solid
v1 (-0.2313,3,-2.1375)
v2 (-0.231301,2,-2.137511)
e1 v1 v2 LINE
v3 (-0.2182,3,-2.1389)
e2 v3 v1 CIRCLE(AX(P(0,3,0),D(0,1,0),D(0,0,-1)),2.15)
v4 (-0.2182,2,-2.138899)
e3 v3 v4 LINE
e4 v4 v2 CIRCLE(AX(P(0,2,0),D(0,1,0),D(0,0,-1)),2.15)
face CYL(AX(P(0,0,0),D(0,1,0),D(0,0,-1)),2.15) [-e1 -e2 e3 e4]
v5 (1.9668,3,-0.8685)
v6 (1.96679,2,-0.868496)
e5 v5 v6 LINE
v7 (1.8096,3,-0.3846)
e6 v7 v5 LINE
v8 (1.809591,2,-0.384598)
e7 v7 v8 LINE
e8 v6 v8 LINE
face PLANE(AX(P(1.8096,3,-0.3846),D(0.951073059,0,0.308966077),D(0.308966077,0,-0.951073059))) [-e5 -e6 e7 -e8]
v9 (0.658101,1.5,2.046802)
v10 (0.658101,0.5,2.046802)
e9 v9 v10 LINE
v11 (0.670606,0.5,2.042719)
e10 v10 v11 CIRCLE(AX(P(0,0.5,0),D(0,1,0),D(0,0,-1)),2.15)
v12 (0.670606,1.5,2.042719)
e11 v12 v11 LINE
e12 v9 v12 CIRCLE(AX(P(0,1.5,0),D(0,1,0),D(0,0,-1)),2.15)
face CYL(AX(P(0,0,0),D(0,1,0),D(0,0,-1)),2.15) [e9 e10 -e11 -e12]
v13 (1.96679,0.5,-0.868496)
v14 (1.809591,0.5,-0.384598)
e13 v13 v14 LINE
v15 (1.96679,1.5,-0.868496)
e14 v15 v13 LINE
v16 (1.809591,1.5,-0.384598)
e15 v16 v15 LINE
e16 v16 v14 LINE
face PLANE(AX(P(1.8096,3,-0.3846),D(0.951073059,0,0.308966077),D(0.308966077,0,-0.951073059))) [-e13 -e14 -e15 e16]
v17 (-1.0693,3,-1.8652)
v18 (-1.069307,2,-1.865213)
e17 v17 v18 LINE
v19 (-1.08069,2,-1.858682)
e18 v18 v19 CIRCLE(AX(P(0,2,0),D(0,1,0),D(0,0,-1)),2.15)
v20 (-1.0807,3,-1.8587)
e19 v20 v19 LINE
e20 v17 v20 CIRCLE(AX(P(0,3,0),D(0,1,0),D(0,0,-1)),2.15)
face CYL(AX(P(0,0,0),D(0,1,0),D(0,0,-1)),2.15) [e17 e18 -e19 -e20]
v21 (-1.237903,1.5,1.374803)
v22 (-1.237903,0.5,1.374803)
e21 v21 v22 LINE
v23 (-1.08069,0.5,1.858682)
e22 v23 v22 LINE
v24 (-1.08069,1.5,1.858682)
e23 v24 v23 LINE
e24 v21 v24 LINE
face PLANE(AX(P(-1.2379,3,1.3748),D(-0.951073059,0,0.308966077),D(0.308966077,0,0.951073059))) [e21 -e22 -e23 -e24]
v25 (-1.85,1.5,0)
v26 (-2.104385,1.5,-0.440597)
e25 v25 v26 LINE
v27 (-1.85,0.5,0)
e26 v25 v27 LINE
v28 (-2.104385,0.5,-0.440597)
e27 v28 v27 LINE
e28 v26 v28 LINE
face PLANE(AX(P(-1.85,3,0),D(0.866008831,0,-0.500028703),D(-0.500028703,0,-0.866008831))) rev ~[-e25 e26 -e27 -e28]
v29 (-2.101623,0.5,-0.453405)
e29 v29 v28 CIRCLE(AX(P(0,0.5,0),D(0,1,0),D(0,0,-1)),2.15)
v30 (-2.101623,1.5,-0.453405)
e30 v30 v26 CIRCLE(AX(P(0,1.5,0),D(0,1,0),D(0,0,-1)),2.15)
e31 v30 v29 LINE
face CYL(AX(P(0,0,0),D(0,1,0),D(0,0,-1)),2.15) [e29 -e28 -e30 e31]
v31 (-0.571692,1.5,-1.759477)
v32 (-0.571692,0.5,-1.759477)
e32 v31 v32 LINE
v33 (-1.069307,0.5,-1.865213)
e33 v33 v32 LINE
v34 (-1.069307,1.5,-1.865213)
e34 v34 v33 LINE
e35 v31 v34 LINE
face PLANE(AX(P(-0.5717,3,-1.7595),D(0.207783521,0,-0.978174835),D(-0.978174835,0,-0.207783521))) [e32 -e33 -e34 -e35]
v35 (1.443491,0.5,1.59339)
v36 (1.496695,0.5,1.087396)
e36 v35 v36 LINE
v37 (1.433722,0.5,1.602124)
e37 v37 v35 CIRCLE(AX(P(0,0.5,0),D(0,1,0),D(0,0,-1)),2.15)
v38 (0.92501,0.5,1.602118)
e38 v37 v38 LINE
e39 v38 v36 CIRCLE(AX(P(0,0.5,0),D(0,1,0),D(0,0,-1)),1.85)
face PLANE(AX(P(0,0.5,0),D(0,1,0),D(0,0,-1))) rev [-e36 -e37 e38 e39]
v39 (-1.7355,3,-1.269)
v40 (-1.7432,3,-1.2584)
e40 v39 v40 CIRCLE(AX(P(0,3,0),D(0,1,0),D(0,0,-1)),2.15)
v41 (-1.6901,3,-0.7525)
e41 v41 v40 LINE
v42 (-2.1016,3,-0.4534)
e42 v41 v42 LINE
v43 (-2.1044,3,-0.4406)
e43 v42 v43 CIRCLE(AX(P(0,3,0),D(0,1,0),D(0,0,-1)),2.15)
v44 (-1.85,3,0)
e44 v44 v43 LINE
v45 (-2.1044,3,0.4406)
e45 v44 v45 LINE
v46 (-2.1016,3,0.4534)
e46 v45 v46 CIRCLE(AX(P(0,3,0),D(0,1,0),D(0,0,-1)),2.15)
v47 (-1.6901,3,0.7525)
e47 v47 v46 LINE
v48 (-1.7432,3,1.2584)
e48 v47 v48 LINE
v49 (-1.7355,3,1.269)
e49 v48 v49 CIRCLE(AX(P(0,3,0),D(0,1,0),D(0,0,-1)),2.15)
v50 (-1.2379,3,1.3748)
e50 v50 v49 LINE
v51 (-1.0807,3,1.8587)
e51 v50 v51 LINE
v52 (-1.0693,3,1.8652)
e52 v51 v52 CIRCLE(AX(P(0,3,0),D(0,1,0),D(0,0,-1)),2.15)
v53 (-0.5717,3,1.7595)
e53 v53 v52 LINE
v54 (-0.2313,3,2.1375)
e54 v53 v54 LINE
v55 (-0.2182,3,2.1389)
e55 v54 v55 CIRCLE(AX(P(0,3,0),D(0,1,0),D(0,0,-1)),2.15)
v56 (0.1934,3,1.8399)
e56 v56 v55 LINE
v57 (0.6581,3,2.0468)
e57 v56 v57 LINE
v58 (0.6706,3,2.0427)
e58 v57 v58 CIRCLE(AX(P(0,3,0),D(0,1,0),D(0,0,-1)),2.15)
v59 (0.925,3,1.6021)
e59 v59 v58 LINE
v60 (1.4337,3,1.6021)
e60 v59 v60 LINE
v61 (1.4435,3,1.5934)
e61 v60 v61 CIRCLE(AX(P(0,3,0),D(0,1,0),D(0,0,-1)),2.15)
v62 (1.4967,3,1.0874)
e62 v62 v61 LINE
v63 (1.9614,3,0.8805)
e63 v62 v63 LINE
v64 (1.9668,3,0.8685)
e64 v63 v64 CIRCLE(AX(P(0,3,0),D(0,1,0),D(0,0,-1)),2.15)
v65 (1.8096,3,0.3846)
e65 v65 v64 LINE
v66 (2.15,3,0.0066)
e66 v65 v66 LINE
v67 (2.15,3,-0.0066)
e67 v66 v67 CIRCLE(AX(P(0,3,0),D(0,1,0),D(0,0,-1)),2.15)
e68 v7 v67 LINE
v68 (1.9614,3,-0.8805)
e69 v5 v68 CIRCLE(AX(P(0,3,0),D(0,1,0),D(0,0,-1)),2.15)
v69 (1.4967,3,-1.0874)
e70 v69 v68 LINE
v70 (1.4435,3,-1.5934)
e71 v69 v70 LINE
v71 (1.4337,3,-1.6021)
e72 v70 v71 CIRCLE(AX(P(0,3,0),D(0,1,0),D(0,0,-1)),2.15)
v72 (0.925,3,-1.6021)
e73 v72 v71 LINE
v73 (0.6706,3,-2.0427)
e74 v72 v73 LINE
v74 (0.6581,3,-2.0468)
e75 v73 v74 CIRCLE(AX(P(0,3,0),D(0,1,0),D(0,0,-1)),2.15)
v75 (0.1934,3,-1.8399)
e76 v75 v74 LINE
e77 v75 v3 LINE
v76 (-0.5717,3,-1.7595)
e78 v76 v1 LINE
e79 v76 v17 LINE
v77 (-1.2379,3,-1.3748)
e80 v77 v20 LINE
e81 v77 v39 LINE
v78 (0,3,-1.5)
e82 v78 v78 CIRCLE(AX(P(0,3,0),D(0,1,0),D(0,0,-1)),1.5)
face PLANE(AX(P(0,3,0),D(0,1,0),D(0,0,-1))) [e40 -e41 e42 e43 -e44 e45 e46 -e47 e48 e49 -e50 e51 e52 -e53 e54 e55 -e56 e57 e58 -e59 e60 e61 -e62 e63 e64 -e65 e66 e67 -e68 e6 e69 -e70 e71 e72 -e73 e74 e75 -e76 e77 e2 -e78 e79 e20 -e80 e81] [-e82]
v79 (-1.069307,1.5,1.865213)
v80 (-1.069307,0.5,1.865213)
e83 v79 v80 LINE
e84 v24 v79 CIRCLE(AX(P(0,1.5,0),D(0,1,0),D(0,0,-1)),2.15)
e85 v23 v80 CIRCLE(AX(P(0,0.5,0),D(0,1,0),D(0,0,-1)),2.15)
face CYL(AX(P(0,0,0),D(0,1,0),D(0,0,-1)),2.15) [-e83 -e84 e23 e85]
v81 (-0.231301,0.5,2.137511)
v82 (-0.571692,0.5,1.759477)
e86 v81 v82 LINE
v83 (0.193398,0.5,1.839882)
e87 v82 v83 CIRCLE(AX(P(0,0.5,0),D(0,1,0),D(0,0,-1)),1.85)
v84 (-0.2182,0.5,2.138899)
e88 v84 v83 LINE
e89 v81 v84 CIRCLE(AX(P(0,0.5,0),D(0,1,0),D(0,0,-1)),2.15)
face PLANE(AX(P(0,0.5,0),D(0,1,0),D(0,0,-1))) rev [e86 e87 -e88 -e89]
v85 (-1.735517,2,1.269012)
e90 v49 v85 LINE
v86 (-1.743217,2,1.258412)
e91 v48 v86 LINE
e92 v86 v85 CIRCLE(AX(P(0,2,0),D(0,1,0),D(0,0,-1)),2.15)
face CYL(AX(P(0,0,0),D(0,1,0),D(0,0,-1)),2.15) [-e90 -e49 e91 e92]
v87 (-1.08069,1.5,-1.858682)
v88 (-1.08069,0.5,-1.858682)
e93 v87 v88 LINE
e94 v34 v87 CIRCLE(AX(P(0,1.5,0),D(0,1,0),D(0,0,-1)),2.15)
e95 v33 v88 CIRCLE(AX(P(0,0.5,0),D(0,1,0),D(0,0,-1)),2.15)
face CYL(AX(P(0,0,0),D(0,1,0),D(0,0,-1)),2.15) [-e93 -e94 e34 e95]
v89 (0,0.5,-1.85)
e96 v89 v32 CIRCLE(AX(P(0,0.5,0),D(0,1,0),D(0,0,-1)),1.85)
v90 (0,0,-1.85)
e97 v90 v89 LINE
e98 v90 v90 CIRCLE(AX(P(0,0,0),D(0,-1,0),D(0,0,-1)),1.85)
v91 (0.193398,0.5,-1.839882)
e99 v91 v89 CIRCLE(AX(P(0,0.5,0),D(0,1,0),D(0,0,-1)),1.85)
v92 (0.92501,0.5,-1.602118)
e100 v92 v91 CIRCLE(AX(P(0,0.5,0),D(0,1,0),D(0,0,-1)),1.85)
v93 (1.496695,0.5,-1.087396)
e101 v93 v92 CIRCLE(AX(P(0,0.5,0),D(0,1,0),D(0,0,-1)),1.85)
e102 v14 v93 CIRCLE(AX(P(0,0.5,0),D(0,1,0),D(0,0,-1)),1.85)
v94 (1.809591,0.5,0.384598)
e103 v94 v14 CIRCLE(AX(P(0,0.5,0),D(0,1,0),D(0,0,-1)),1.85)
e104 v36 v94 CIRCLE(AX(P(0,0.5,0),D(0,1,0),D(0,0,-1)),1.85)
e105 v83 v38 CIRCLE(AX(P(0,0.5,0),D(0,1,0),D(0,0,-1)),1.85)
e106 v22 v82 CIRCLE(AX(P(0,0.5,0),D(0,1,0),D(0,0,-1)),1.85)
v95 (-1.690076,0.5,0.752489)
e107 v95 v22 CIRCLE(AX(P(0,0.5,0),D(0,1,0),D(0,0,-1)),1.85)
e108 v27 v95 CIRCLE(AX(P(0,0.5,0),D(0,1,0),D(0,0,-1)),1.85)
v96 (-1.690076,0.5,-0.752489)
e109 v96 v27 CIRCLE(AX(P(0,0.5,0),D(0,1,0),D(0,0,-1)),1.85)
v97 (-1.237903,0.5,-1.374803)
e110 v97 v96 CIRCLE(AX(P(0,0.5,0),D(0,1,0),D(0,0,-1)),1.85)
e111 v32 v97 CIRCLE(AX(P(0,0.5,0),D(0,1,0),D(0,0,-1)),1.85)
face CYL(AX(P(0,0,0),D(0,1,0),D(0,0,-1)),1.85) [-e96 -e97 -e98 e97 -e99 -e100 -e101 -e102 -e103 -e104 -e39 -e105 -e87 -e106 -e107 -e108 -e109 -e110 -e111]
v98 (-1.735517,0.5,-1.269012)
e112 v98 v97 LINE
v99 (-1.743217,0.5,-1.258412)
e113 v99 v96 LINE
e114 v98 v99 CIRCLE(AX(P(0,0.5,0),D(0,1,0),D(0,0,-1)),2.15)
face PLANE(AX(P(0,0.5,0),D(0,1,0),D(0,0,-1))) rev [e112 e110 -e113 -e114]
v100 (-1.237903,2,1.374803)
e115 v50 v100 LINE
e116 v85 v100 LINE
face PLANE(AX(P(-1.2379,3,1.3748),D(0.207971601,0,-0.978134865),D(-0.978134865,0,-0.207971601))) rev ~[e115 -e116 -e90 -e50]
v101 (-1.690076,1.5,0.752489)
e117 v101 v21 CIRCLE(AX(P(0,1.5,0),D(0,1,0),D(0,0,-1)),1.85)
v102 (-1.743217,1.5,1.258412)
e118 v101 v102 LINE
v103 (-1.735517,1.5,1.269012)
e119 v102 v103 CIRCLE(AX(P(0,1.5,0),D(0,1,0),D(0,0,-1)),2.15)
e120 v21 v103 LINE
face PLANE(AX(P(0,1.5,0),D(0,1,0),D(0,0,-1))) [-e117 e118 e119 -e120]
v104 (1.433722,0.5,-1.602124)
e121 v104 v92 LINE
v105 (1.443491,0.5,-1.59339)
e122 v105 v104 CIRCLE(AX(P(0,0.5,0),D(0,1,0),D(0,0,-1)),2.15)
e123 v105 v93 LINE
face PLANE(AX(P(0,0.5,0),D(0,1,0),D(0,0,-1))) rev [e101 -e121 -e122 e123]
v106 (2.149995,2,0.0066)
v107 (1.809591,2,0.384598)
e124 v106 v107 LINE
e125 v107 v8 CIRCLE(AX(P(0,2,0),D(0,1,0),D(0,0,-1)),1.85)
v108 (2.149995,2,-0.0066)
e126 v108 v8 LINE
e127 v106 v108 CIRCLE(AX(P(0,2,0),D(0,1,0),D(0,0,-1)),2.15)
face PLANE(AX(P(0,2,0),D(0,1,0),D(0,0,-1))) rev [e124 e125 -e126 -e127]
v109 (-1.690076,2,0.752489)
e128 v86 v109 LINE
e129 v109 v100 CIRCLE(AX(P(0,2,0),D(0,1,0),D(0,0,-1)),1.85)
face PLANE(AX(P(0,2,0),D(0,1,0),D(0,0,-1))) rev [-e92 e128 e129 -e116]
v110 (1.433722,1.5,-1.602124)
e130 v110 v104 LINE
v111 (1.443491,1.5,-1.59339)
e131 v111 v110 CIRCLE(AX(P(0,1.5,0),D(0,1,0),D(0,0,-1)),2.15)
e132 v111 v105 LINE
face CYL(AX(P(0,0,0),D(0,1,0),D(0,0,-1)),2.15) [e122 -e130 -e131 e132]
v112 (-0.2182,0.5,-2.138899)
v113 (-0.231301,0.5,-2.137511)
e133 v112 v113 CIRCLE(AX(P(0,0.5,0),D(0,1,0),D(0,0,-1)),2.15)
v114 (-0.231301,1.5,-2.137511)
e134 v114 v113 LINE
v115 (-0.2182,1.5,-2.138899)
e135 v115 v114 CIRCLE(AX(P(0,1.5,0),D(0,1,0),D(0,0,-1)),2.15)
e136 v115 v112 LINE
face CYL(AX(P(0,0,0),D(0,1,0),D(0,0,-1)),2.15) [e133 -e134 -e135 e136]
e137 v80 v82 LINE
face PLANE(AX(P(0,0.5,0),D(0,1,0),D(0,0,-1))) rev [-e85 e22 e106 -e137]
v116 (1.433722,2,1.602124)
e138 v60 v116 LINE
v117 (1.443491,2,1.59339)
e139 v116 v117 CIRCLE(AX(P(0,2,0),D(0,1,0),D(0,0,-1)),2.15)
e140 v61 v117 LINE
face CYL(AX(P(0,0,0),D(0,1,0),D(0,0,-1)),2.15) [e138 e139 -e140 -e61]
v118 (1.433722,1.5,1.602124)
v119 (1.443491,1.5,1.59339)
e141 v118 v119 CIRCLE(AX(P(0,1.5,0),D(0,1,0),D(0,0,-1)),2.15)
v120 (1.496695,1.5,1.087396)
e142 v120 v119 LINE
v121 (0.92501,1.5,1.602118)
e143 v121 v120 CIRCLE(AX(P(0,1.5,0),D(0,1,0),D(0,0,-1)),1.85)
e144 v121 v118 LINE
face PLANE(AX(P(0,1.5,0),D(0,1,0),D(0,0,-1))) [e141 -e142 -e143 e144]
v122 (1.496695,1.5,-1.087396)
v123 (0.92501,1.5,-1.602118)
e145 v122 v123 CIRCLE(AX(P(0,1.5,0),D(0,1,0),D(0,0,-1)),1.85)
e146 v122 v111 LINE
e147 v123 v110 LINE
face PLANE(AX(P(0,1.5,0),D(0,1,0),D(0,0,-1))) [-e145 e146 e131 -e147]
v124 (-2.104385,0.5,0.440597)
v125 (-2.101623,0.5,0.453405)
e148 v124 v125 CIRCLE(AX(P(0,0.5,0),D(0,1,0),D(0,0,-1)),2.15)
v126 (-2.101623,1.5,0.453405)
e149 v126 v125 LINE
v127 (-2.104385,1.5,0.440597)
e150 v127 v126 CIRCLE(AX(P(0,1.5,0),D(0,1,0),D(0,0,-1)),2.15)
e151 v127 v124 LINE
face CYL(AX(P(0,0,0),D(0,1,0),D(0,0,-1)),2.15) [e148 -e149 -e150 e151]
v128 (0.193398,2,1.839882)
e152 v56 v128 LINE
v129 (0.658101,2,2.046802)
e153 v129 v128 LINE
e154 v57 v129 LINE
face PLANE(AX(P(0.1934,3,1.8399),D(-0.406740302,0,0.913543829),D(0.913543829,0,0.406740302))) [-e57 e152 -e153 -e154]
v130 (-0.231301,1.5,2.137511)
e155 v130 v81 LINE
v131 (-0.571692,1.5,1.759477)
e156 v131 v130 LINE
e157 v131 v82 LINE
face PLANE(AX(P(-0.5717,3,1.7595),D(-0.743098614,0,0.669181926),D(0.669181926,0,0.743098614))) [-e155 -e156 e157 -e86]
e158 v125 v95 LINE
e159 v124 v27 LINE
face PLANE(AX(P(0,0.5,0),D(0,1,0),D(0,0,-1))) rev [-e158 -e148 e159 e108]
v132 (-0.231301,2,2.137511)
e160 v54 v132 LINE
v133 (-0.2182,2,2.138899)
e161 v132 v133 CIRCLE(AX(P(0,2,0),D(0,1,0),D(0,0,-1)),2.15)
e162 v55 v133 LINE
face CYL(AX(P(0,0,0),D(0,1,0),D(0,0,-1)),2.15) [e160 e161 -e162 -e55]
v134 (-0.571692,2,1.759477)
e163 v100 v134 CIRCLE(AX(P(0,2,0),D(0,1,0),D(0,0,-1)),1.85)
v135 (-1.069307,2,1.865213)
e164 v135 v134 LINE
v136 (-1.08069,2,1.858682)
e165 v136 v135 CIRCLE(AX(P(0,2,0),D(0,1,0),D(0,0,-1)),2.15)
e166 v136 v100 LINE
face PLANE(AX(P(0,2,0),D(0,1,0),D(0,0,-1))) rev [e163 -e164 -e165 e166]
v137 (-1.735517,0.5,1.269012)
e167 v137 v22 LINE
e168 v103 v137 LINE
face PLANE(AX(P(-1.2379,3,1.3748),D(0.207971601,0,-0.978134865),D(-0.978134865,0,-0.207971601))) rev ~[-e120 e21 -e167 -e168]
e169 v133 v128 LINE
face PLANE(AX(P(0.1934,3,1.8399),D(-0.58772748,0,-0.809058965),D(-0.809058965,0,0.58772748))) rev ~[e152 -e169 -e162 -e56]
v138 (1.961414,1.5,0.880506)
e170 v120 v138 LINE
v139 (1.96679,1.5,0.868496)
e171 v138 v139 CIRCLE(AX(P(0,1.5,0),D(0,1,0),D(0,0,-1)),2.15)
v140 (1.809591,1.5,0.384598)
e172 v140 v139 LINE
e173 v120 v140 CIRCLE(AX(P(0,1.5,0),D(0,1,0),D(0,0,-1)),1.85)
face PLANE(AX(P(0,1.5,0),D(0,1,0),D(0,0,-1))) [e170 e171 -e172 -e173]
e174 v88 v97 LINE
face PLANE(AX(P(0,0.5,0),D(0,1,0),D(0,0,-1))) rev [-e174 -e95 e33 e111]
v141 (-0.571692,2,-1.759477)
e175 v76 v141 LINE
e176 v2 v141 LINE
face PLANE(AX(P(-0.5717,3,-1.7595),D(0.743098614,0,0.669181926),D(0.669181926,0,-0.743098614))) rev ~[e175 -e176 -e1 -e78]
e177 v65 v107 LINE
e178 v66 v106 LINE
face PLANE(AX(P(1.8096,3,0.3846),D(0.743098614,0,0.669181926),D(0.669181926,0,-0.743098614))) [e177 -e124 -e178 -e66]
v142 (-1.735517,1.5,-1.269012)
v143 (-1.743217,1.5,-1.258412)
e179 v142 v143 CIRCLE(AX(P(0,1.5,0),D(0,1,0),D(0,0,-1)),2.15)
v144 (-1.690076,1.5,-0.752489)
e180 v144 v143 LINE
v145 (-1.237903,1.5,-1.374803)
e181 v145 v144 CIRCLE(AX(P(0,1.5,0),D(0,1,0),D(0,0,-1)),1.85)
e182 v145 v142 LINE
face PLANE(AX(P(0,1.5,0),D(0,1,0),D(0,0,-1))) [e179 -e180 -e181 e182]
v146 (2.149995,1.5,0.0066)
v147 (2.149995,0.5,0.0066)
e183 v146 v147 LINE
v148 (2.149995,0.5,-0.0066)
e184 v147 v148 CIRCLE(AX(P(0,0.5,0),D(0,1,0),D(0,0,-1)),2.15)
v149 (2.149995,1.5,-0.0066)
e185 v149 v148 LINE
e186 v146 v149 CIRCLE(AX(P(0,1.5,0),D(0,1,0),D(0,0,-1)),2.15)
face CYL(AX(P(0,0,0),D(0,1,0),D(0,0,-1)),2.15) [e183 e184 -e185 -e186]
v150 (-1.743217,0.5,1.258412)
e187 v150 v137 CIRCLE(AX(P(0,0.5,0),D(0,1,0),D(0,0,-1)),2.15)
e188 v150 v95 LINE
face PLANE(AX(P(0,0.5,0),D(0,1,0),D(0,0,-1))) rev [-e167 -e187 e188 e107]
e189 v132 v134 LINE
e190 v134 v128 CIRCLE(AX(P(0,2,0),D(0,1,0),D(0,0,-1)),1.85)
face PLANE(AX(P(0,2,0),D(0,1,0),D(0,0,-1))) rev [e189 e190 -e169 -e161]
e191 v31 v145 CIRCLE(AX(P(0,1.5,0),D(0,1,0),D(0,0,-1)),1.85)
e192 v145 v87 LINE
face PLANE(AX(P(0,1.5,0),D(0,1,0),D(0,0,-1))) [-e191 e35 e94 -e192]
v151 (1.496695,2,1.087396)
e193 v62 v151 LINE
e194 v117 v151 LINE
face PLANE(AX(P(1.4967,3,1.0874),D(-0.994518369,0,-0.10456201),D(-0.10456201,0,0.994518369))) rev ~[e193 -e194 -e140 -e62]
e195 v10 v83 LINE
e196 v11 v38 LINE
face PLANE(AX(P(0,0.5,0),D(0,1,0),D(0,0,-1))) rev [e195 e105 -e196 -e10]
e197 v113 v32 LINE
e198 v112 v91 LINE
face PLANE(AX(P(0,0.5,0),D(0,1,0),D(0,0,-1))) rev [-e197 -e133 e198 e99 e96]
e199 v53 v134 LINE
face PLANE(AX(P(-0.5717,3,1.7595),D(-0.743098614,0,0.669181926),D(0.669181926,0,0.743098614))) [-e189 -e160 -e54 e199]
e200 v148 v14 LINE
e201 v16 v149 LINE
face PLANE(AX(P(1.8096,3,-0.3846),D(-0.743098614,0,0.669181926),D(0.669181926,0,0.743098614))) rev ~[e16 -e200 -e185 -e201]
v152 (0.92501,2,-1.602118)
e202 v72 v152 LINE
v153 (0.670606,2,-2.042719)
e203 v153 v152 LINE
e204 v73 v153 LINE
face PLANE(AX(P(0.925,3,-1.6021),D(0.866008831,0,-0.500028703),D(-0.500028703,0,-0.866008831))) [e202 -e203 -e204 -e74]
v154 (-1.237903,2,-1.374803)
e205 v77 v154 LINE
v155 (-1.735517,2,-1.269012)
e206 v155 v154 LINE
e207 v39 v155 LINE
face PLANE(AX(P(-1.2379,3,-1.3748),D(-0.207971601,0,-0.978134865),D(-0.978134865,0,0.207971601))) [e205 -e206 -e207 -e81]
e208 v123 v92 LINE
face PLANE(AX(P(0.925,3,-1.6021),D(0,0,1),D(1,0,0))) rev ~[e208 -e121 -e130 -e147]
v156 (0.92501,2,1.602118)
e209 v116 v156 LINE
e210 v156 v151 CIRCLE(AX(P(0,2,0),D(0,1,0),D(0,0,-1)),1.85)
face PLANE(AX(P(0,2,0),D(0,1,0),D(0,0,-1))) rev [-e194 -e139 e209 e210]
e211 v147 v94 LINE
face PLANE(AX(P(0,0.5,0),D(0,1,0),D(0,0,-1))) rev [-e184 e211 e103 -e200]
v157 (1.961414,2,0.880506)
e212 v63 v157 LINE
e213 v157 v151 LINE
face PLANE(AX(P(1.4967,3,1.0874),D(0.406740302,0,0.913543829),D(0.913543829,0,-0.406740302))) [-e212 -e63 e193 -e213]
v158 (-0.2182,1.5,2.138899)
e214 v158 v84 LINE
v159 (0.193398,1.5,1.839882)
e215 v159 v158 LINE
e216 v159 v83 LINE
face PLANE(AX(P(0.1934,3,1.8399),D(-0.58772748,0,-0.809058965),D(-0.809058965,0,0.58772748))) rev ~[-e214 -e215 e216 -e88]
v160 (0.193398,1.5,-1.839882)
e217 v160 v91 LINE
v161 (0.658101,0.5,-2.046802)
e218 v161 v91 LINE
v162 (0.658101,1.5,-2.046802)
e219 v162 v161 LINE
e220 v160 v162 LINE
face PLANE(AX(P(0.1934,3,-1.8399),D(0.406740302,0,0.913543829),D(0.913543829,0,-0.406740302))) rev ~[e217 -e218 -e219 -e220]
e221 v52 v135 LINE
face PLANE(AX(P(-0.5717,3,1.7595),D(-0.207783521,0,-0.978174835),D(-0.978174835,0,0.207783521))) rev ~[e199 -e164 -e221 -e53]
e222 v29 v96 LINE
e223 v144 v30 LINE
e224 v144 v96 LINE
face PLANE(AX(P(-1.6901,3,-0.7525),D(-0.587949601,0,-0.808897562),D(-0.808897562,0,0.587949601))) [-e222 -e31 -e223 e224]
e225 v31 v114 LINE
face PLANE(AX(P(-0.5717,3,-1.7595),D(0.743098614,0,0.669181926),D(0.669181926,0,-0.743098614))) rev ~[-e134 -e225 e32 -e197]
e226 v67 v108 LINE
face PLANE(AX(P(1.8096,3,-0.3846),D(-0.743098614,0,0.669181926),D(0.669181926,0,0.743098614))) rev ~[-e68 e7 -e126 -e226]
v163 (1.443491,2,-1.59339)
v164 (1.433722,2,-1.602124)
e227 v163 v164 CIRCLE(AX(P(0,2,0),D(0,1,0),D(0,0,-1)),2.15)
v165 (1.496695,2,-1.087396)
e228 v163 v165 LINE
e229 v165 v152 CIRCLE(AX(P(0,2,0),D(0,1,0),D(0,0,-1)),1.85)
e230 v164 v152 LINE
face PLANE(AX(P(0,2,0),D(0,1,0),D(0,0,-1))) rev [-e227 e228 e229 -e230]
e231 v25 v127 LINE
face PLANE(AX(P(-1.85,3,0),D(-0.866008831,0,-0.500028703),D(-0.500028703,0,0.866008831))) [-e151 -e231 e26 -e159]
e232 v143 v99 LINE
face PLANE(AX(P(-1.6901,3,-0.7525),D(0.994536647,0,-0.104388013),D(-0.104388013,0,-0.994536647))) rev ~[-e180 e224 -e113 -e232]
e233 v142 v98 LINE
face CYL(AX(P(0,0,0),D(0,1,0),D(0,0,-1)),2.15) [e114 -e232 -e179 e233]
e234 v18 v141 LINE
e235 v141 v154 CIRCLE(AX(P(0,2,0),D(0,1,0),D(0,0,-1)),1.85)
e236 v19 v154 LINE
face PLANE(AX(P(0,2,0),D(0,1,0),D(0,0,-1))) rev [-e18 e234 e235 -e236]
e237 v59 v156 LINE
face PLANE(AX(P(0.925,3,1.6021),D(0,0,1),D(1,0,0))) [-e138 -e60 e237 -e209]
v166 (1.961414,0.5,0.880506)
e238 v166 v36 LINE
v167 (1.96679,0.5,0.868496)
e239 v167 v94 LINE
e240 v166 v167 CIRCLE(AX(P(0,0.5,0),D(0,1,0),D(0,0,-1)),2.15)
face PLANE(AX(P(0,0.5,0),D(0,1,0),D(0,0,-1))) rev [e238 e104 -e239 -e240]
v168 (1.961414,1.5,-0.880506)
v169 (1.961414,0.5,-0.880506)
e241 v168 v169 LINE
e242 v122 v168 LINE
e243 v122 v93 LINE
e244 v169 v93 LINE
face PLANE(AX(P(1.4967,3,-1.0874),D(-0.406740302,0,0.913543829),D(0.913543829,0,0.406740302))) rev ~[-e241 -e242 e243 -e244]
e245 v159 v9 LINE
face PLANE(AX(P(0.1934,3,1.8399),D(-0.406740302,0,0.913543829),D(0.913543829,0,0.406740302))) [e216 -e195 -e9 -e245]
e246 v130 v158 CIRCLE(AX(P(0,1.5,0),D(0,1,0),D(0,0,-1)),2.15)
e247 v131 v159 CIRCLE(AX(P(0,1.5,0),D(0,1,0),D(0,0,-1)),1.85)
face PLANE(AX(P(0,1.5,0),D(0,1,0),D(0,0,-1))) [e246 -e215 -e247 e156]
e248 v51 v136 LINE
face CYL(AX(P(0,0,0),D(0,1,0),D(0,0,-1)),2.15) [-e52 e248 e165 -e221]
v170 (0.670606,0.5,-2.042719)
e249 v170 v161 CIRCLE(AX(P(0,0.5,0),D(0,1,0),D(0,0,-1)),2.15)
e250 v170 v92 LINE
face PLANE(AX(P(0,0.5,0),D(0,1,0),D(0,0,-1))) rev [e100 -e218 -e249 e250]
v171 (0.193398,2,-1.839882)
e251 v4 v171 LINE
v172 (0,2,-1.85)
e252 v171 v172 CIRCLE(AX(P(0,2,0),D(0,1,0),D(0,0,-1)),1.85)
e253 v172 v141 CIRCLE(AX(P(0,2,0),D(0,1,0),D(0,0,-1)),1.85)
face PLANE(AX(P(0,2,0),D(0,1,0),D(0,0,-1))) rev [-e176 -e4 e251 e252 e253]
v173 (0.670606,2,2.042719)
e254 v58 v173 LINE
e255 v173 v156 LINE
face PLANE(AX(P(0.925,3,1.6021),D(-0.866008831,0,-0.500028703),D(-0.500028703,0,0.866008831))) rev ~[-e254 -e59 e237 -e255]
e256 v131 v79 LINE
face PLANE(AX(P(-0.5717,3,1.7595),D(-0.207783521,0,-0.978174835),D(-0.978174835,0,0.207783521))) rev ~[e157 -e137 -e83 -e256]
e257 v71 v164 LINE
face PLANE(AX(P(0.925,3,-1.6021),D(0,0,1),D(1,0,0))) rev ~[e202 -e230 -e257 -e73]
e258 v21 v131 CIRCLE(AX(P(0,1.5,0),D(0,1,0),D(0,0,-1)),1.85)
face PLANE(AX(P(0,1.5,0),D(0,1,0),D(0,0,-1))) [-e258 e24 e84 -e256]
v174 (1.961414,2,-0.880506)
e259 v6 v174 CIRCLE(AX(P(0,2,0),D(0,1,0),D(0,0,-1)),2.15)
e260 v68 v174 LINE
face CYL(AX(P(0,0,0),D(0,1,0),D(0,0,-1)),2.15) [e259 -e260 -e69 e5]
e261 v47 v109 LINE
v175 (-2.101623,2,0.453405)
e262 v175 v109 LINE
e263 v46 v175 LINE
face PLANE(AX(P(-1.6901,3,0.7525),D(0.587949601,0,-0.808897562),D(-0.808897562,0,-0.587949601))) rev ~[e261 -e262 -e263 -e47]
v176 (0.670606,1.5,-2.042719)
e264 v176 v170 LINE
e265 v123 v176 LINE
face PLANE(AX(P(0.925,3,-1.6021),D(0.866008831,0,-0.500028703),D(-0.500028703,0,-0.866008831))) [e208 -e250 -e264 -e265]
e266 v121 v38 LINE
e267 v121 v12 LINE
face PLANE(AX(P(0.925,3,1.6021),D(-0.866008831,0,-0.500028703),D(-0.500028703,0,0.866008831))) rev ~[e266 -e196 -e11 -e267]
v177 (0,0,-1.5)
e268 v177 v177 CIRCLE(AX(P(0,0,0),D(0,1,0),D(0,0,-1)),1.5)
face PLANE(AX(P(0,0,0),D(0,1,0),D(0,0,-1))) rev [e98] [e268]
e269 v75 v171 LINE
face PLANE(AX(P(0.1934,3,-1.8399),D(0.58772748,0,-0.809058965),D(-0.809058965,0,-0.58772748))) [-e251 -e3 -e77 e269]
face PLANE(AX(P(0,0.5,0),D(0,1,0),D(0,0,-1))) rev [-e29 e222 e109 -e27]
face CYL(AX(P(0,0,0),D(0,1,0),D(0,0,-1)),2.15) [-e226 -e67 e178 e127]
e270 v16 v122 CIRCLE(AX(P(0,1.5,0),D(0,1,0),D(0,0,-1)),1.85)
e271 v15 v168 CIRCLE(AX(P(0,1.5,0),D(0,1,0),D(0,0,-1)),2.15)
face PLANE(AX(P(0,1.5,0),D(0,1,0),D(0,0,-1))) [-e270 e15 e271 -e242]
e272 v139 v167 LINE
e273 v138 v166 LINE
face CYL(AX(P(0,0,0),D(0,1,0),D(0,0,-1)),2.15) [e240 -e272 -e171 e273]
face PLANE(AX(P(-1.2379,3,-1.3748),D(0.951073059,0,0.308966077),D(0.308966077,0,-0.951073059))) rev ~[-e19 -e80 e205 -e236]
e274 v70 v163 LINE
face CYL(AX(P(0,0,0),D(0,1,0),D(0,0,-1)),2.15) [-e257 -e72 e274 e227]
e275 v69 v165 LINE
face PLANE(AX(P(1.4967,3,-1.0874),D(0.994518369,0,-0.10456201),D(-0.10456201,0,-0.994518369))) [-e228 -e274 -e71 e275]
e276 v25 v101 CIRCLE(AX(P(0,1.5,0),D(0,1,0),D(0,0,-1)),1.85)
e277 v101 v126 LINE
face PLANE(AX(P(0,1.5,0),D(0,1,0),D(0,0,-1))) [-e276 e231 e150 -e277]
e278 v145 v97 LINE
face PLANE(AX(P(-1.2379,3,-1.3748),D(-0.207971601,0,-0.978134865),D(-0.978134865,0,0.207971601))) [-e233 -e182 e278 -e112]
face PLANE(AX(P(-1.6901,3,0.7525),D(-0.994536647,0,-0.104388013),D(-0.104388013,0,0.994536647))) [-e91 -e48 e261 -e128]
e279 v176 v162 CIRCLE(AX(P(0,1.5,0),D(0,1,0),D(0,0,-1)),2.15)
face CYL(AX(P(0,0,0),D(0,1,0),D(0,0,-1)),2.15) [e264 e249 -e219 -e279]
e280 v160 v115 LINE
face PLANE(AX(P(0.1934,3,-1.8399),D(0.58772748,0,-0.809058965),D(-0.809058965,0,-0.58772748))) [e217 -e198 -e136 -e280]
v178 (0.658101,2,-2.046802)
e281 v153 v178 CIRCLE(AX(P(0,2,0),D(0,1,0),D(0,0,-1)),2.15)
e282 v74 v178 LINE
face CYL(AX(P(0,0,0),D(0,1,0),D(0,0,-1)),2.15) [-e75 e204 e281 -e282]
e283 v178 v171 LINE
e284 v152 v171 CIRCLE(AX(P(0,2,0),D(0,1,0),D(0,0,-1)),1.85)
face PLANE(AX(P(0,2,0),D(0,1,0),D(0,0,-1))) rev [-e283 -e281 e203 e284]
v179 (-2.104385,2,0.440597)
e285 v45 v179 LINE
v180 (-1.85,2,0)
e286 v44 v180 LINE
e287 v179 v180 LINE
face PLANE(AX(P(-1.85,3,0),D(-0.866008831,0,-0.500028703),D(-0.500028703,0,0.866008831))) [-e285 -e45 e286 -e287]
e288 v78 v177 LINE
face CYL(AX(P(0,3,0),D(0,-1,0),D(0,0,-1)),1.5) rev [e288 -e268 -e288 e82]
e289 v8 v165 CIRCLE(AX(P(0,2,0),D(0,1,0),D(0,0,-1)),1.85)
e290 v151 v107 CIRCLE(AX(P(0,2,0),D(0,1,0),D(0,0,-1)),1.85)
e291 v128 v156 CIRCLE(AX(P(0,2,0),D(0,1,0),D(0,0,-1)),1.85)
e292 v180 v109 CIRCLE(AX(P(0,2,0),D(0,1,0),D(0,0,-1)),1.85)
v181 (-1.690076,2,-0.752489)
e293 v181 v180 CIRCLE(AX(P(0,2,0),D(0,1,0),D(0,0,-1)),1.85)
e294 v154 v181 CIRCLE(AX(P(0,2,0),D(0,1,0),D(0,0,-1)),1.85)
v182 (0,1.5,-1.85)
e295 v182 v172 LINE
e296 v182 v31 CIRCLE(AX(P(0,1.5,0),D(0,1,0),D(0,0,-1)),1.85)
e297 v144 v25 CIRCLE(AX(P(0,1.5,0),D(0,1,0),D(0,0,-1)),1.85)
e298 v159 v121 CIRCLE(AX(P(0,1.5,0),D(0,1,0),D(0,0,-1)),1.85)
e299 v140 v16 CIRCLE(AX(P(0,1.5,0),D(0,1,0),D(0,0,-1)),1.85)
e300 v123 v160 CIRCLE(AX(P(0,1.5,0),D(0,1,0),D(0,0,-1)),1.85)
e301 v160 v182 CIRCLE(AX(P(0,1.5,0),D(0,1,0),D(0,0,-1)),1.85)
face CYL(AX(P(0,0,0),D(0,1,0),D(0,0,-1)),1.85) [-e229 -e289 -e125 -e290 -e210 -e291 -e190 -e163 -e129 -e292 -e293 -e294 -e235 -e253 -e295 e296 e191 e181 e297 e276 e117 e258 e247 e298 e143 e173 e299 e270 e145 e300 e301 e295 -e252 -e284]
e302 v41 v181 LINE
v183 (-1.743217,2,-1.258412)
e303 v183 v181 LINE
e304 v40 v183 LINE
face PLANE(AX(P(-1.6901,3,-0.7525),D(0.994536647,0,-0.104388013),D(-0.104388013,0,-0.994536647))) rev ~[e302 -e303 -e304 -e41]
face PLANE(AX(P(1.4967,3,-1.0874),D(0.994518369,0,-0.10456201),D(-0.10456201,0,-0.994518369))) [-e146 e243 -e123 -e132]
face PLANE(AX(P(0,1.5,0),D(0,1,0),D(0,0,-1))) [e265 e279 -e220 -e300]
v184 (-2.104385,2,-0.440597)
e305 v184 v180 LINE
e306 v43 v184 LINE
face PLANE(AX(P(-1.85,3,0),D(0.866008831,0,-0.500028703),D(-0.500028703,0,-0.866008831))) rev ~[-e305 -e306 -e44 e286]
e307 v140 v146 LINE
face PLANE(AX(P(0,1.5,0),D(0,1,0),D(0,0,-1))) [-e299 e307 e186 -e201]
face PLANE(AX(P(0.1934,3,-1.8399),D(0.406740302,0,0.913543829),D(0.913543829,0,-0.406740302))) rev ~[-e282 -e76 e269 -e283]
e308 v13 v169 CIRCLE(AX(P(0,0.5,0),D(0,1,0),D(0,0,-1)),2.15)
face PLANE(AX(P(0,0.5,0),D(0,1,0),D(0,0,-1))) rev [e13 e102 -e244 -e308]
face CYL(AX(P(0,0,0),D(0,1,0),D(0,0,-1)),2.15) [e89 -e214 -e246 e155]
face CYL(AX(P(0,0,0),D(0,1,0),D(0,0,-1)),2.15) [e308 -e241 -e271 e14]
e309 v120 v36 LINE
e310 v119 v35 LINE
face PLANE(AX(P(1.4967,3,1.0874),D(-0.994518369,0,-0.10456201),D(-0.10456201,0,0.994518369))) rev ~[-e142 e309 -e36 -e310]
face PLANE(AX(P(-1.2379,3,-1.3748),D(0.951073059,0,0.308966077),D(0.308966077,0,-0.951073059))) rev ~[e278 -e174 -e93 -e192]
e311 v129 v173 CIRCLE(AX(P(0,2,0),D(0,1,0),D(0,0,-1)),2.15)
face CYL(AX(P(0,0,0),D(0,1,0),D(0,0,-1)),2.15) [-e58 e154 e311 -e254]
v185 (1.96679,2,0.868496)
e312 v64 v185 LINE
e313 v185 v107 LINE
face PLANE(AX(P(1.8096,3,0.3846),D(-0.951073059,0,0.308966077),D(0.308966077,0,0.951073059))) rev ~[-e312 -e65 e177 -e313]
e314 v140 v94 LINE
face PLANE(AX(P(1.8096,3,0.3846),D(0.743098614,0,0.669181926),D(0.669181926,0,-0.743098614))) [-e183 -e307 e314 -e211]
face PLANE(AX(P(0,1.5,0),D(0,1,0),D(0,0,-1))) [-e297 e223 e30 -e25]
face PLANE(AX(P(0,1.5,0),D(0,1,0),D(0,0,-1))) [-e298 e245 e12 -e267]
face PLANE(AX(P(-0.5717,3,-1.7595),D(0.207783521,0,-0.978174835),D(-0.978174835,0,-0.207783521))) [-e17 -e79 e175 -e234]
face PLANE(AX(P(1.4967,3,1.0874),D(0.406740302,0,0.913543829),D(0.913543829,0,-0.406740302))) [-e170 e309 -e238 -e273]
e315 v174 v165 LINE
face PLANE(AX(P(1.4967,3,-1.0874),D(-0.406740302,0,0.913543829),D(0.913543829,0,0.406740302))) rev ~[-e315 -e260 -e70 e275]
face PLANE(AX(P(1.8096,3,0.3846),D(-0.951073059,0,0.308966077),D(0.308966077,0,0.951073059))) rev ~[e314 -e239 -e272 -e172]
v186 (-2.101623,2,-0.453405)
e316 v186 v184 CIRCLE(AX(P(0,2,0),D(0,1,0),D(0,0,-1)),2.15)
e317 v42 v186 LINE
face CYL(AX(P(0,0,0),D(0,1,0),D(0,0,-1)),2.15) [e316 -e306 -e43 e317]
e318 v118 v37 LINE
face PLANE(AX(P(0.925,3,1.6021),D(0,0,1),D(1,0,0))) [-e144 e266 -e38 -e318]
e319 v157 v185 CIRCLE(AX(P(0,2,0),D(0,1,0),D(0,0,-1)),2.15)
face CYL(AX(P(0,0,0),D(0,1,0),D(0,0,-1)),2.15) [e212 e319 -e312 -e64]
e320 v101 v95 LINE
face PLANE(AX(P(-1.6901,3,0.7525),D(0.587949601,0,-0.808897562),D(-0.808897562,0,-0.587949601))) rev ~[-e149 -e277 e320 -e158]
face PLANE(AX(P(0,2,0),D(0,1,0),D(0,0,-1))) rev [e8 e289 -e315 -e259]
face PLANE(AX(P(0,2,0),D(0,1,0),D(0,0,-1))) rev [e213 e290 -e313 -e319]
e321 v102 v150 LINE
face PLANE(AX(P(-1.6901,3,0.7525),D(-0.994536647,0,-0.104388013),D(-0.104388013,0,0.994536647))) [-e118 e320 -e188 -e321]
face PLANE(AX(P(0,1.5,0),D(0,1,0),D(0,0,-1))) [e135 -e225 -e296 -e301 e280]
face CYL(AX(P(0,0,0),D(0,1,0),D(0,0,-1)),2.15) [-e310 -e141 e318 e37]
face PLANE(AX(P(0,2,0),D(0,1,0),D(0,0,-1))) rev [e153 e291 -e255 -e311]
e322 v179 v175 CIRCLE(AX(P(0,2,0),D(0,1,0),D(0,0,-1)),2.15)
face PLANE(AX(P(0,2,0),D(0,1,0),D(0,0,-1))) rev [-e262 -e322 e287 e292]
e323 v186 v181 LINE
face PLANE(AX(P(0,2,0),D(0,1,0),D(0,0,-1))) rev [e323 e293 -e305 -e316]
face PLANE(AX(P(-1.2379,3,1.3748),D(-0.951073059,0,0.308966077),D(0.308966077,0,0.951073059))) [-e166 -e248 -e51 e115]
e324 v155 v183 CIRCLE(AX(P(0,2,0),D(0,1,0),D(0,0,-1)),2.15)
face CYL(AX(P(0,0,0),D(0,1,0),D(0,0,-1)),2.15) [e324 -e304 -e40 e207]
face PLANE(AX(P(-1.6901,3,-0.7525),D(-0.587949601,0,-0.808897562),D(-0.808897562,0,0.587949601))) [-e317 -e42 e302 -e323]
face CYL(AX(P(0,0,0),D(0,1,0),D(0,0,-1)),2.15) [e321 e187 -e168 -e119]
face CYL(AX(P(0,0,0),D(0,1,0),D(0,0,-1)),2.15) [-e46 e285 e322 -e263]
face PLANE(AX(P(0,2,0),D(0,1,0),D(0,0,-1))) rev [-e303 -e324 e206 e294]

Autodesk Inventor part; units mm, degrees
ref_plane "YZ Plane" through (0, 0, 0) normal (1, 0, 0) x (0, 1, 0)
ref_plane "XZ Plane" through (0, 0, 0) normal (0, 1, 0) x (-1, 0, 0)
ref_plane "XY Plane" through (0, 0, 0) normal (0, 0, 1) x (1, 0, 0)
sketch "Szkic1" plane through (0, 0, 0) normal (1, 0, 0) x (0, 1, 0)
  line L0 (0, 0) -> (3, 0)
  line L1 (3, 0) -> (3, -1.5)
  line L2 (3, -1.5) -> (0, -1.5)
  line L3 (0, -1.5) -> (0, 0)
  line L4 (3, -1.5) -> (0, -1.5)
  line L5 (0, -1.5) -> (0, -1.85)
  line L6 (0, -1.85) -> (3, -1.85)
  line L7 (3, -1.85) -> (3, -1.5)
  line L8 (3, -1.5) -> (0, -1.5)
  line L9 (0, -1.5) -> (0, -2.15)
  line L10 (0, -2.15) -> (3, -2.15)
  line L11 (3, -2.15) -> (3, -1.5)
  line L12 (3, -1.85) -> (2, -1.85)
  line L13 (2, -1.85) -> (2, -2.15)
  line L14 (2, -2.15) -> (3, -2.15)
  line L15 (3, -2.15) -> (3, -1.85)
  line L16 (0.5, -2.15) -> (1.5, -2.15)
  line L17 (1.5, -2.15) -> (1.5, -1.85)
  line L18 (1.5, -1.85) -> (0.5, -1.85)
  line L19 (0.5, -1.85) -> (0.5, -2.15)
  dimension "d0" = 3
  dimension "d1" = 1.5
  dimension "d2" = 3
  dimension "d3" = 0.35
  dimension "d4" = 3
  dimension "d5" = 0.65
  dimension "d6" = 1
  dimension "d7" = 1
  dimension "d8" = 2.5
revolve "Obrót1" add sketch "Szkic1" angle 360 about axis through (0, 0, 0) along (0, 1, 0) contours L2 L7 L6 L5 | L11 L10 L13 L6 | L6 L17 L10 L19
thread "Gwint1" size "M3x0.5" class "6H" standard "ANSI Metric M Profile" full length
sketch "Szkic2" plane through (0, 3, 0) normal (0, 1, 0) x (1, 0, 0)
  circle A0 centre (0, 0) radius 1.85 projected
  circle A1 centre (0, 0) radius 1.5 projected
  circle A2 centre (0, 0) radius 2.15 projected
  line L0 (0, 0) -> (-2.15, 0)
  line L1 (-1.85, 0) -> (-2.1044, -0.4406)
  line L2 (-1.85, 0) -> (-2.1044, 0.4406)
  line L3 (-1.6901, -0.7525) -> (-1.7432, -1.2584)
  line L4 (-1.6901, -0.7525) -> (-2.1016, -0.4534)
  line L5 (-1.2379, -1.3748) -> (-1.0807, -1.8587)
  line L6 (-1.2379, -1.3748) -> (-1.7355, -1.269)
  line L7 (-0.5717, -1.7595) -> (-0.2313, -2.1375)
  line L8 (-0.5717, -1.7595) -> (-1.0693, -1.8652)
  line L9 (0.1934, -1.8399) -> (0.6581, -2.0468)
  line L10 (0.1934, -1.8399) -> (-0.2182, -2.1389)
  line L11 (0.925, -1.6021) -> (1.4337, -1.6021)
  line L12 (0.925, -1.6021) -> (0.6706, -2.0427)
  line L13 (1.4967, -1.0874) -> (1.9614, -0.8805)
  line L14 (1.4967, -1.0874) -> (1.4435, -1.5934)
  line L15 (1.8096, -0.3846) -> (2.15, -0.0066)
  line L16 (1.8096, -0.3846) -> (1.9668, -0.8685)
  line L17 (1.8096, 0.3846) -> (1.9668, 0.8685)
  line L18 (1.8096, 0.3846) -> (2.15, 0.0066)
  line L19 (1.4967, 1.0874) -> (1.4435, 1.5934)
  line L20 (1.4967, 1.0874) -> (1.9614, 0.8805)
  line L21 (0.925, 1.6021) -> (0.6706, 2.0427)
  line L22 (0.925, 1.6021) -> (1.4337, 1.6021)
  line L23 (0.1934, 1.8399) -> (-0.2182, 2.1389)
  line L24 (0.1934, 1.8399) -> (0.6581, 2.0468)
  line L25 (-0.5717, 1.7595) -> (-1.0693, 1.8652)
  line L26 (-0.5717, 1.7595) -> (-0.2313, 2.1375)
  line L27 (-1.2379, 1.3748) -> (-1.7355, 1.269)
  line L28 (-1.2379, 1.3748) -> (-1.0807, 1.8587)
  line L29 (-1.6901, 0.7525) -> (-2.1016, 0.4534)
  line L30 (-1.6901, 0.7525) -> (-1.7432, 1.2584)
  point P0 (-0.2182, 2.1389)
  point P1 (-0.2182, -2.1389)
  dimension "d13" = 60
  dimension "d14" = 60
  dimension "d17" = 360
extrude "Wyciągnięcie proste1" cut sketch "Szkic2" against normal blind 10 contours L17 A2 L18 | L15 A2 L16 | L19 A2 L20 | L13 A2 L14 | L21 A2 L22 | L11 A2 L12 | L23 A2 L24 | L9 A2 L10 | L25 A2 L26 | L7 A2 L8 | L27 A2 L28 | L5 A2 L6 | L29 A2 L30 | L3 A2 L4 | L1 A2 L0 | L0 A2 L2
properties part number "insert-M3-3x4.2" material "Mosiądz, miękki żółty"
